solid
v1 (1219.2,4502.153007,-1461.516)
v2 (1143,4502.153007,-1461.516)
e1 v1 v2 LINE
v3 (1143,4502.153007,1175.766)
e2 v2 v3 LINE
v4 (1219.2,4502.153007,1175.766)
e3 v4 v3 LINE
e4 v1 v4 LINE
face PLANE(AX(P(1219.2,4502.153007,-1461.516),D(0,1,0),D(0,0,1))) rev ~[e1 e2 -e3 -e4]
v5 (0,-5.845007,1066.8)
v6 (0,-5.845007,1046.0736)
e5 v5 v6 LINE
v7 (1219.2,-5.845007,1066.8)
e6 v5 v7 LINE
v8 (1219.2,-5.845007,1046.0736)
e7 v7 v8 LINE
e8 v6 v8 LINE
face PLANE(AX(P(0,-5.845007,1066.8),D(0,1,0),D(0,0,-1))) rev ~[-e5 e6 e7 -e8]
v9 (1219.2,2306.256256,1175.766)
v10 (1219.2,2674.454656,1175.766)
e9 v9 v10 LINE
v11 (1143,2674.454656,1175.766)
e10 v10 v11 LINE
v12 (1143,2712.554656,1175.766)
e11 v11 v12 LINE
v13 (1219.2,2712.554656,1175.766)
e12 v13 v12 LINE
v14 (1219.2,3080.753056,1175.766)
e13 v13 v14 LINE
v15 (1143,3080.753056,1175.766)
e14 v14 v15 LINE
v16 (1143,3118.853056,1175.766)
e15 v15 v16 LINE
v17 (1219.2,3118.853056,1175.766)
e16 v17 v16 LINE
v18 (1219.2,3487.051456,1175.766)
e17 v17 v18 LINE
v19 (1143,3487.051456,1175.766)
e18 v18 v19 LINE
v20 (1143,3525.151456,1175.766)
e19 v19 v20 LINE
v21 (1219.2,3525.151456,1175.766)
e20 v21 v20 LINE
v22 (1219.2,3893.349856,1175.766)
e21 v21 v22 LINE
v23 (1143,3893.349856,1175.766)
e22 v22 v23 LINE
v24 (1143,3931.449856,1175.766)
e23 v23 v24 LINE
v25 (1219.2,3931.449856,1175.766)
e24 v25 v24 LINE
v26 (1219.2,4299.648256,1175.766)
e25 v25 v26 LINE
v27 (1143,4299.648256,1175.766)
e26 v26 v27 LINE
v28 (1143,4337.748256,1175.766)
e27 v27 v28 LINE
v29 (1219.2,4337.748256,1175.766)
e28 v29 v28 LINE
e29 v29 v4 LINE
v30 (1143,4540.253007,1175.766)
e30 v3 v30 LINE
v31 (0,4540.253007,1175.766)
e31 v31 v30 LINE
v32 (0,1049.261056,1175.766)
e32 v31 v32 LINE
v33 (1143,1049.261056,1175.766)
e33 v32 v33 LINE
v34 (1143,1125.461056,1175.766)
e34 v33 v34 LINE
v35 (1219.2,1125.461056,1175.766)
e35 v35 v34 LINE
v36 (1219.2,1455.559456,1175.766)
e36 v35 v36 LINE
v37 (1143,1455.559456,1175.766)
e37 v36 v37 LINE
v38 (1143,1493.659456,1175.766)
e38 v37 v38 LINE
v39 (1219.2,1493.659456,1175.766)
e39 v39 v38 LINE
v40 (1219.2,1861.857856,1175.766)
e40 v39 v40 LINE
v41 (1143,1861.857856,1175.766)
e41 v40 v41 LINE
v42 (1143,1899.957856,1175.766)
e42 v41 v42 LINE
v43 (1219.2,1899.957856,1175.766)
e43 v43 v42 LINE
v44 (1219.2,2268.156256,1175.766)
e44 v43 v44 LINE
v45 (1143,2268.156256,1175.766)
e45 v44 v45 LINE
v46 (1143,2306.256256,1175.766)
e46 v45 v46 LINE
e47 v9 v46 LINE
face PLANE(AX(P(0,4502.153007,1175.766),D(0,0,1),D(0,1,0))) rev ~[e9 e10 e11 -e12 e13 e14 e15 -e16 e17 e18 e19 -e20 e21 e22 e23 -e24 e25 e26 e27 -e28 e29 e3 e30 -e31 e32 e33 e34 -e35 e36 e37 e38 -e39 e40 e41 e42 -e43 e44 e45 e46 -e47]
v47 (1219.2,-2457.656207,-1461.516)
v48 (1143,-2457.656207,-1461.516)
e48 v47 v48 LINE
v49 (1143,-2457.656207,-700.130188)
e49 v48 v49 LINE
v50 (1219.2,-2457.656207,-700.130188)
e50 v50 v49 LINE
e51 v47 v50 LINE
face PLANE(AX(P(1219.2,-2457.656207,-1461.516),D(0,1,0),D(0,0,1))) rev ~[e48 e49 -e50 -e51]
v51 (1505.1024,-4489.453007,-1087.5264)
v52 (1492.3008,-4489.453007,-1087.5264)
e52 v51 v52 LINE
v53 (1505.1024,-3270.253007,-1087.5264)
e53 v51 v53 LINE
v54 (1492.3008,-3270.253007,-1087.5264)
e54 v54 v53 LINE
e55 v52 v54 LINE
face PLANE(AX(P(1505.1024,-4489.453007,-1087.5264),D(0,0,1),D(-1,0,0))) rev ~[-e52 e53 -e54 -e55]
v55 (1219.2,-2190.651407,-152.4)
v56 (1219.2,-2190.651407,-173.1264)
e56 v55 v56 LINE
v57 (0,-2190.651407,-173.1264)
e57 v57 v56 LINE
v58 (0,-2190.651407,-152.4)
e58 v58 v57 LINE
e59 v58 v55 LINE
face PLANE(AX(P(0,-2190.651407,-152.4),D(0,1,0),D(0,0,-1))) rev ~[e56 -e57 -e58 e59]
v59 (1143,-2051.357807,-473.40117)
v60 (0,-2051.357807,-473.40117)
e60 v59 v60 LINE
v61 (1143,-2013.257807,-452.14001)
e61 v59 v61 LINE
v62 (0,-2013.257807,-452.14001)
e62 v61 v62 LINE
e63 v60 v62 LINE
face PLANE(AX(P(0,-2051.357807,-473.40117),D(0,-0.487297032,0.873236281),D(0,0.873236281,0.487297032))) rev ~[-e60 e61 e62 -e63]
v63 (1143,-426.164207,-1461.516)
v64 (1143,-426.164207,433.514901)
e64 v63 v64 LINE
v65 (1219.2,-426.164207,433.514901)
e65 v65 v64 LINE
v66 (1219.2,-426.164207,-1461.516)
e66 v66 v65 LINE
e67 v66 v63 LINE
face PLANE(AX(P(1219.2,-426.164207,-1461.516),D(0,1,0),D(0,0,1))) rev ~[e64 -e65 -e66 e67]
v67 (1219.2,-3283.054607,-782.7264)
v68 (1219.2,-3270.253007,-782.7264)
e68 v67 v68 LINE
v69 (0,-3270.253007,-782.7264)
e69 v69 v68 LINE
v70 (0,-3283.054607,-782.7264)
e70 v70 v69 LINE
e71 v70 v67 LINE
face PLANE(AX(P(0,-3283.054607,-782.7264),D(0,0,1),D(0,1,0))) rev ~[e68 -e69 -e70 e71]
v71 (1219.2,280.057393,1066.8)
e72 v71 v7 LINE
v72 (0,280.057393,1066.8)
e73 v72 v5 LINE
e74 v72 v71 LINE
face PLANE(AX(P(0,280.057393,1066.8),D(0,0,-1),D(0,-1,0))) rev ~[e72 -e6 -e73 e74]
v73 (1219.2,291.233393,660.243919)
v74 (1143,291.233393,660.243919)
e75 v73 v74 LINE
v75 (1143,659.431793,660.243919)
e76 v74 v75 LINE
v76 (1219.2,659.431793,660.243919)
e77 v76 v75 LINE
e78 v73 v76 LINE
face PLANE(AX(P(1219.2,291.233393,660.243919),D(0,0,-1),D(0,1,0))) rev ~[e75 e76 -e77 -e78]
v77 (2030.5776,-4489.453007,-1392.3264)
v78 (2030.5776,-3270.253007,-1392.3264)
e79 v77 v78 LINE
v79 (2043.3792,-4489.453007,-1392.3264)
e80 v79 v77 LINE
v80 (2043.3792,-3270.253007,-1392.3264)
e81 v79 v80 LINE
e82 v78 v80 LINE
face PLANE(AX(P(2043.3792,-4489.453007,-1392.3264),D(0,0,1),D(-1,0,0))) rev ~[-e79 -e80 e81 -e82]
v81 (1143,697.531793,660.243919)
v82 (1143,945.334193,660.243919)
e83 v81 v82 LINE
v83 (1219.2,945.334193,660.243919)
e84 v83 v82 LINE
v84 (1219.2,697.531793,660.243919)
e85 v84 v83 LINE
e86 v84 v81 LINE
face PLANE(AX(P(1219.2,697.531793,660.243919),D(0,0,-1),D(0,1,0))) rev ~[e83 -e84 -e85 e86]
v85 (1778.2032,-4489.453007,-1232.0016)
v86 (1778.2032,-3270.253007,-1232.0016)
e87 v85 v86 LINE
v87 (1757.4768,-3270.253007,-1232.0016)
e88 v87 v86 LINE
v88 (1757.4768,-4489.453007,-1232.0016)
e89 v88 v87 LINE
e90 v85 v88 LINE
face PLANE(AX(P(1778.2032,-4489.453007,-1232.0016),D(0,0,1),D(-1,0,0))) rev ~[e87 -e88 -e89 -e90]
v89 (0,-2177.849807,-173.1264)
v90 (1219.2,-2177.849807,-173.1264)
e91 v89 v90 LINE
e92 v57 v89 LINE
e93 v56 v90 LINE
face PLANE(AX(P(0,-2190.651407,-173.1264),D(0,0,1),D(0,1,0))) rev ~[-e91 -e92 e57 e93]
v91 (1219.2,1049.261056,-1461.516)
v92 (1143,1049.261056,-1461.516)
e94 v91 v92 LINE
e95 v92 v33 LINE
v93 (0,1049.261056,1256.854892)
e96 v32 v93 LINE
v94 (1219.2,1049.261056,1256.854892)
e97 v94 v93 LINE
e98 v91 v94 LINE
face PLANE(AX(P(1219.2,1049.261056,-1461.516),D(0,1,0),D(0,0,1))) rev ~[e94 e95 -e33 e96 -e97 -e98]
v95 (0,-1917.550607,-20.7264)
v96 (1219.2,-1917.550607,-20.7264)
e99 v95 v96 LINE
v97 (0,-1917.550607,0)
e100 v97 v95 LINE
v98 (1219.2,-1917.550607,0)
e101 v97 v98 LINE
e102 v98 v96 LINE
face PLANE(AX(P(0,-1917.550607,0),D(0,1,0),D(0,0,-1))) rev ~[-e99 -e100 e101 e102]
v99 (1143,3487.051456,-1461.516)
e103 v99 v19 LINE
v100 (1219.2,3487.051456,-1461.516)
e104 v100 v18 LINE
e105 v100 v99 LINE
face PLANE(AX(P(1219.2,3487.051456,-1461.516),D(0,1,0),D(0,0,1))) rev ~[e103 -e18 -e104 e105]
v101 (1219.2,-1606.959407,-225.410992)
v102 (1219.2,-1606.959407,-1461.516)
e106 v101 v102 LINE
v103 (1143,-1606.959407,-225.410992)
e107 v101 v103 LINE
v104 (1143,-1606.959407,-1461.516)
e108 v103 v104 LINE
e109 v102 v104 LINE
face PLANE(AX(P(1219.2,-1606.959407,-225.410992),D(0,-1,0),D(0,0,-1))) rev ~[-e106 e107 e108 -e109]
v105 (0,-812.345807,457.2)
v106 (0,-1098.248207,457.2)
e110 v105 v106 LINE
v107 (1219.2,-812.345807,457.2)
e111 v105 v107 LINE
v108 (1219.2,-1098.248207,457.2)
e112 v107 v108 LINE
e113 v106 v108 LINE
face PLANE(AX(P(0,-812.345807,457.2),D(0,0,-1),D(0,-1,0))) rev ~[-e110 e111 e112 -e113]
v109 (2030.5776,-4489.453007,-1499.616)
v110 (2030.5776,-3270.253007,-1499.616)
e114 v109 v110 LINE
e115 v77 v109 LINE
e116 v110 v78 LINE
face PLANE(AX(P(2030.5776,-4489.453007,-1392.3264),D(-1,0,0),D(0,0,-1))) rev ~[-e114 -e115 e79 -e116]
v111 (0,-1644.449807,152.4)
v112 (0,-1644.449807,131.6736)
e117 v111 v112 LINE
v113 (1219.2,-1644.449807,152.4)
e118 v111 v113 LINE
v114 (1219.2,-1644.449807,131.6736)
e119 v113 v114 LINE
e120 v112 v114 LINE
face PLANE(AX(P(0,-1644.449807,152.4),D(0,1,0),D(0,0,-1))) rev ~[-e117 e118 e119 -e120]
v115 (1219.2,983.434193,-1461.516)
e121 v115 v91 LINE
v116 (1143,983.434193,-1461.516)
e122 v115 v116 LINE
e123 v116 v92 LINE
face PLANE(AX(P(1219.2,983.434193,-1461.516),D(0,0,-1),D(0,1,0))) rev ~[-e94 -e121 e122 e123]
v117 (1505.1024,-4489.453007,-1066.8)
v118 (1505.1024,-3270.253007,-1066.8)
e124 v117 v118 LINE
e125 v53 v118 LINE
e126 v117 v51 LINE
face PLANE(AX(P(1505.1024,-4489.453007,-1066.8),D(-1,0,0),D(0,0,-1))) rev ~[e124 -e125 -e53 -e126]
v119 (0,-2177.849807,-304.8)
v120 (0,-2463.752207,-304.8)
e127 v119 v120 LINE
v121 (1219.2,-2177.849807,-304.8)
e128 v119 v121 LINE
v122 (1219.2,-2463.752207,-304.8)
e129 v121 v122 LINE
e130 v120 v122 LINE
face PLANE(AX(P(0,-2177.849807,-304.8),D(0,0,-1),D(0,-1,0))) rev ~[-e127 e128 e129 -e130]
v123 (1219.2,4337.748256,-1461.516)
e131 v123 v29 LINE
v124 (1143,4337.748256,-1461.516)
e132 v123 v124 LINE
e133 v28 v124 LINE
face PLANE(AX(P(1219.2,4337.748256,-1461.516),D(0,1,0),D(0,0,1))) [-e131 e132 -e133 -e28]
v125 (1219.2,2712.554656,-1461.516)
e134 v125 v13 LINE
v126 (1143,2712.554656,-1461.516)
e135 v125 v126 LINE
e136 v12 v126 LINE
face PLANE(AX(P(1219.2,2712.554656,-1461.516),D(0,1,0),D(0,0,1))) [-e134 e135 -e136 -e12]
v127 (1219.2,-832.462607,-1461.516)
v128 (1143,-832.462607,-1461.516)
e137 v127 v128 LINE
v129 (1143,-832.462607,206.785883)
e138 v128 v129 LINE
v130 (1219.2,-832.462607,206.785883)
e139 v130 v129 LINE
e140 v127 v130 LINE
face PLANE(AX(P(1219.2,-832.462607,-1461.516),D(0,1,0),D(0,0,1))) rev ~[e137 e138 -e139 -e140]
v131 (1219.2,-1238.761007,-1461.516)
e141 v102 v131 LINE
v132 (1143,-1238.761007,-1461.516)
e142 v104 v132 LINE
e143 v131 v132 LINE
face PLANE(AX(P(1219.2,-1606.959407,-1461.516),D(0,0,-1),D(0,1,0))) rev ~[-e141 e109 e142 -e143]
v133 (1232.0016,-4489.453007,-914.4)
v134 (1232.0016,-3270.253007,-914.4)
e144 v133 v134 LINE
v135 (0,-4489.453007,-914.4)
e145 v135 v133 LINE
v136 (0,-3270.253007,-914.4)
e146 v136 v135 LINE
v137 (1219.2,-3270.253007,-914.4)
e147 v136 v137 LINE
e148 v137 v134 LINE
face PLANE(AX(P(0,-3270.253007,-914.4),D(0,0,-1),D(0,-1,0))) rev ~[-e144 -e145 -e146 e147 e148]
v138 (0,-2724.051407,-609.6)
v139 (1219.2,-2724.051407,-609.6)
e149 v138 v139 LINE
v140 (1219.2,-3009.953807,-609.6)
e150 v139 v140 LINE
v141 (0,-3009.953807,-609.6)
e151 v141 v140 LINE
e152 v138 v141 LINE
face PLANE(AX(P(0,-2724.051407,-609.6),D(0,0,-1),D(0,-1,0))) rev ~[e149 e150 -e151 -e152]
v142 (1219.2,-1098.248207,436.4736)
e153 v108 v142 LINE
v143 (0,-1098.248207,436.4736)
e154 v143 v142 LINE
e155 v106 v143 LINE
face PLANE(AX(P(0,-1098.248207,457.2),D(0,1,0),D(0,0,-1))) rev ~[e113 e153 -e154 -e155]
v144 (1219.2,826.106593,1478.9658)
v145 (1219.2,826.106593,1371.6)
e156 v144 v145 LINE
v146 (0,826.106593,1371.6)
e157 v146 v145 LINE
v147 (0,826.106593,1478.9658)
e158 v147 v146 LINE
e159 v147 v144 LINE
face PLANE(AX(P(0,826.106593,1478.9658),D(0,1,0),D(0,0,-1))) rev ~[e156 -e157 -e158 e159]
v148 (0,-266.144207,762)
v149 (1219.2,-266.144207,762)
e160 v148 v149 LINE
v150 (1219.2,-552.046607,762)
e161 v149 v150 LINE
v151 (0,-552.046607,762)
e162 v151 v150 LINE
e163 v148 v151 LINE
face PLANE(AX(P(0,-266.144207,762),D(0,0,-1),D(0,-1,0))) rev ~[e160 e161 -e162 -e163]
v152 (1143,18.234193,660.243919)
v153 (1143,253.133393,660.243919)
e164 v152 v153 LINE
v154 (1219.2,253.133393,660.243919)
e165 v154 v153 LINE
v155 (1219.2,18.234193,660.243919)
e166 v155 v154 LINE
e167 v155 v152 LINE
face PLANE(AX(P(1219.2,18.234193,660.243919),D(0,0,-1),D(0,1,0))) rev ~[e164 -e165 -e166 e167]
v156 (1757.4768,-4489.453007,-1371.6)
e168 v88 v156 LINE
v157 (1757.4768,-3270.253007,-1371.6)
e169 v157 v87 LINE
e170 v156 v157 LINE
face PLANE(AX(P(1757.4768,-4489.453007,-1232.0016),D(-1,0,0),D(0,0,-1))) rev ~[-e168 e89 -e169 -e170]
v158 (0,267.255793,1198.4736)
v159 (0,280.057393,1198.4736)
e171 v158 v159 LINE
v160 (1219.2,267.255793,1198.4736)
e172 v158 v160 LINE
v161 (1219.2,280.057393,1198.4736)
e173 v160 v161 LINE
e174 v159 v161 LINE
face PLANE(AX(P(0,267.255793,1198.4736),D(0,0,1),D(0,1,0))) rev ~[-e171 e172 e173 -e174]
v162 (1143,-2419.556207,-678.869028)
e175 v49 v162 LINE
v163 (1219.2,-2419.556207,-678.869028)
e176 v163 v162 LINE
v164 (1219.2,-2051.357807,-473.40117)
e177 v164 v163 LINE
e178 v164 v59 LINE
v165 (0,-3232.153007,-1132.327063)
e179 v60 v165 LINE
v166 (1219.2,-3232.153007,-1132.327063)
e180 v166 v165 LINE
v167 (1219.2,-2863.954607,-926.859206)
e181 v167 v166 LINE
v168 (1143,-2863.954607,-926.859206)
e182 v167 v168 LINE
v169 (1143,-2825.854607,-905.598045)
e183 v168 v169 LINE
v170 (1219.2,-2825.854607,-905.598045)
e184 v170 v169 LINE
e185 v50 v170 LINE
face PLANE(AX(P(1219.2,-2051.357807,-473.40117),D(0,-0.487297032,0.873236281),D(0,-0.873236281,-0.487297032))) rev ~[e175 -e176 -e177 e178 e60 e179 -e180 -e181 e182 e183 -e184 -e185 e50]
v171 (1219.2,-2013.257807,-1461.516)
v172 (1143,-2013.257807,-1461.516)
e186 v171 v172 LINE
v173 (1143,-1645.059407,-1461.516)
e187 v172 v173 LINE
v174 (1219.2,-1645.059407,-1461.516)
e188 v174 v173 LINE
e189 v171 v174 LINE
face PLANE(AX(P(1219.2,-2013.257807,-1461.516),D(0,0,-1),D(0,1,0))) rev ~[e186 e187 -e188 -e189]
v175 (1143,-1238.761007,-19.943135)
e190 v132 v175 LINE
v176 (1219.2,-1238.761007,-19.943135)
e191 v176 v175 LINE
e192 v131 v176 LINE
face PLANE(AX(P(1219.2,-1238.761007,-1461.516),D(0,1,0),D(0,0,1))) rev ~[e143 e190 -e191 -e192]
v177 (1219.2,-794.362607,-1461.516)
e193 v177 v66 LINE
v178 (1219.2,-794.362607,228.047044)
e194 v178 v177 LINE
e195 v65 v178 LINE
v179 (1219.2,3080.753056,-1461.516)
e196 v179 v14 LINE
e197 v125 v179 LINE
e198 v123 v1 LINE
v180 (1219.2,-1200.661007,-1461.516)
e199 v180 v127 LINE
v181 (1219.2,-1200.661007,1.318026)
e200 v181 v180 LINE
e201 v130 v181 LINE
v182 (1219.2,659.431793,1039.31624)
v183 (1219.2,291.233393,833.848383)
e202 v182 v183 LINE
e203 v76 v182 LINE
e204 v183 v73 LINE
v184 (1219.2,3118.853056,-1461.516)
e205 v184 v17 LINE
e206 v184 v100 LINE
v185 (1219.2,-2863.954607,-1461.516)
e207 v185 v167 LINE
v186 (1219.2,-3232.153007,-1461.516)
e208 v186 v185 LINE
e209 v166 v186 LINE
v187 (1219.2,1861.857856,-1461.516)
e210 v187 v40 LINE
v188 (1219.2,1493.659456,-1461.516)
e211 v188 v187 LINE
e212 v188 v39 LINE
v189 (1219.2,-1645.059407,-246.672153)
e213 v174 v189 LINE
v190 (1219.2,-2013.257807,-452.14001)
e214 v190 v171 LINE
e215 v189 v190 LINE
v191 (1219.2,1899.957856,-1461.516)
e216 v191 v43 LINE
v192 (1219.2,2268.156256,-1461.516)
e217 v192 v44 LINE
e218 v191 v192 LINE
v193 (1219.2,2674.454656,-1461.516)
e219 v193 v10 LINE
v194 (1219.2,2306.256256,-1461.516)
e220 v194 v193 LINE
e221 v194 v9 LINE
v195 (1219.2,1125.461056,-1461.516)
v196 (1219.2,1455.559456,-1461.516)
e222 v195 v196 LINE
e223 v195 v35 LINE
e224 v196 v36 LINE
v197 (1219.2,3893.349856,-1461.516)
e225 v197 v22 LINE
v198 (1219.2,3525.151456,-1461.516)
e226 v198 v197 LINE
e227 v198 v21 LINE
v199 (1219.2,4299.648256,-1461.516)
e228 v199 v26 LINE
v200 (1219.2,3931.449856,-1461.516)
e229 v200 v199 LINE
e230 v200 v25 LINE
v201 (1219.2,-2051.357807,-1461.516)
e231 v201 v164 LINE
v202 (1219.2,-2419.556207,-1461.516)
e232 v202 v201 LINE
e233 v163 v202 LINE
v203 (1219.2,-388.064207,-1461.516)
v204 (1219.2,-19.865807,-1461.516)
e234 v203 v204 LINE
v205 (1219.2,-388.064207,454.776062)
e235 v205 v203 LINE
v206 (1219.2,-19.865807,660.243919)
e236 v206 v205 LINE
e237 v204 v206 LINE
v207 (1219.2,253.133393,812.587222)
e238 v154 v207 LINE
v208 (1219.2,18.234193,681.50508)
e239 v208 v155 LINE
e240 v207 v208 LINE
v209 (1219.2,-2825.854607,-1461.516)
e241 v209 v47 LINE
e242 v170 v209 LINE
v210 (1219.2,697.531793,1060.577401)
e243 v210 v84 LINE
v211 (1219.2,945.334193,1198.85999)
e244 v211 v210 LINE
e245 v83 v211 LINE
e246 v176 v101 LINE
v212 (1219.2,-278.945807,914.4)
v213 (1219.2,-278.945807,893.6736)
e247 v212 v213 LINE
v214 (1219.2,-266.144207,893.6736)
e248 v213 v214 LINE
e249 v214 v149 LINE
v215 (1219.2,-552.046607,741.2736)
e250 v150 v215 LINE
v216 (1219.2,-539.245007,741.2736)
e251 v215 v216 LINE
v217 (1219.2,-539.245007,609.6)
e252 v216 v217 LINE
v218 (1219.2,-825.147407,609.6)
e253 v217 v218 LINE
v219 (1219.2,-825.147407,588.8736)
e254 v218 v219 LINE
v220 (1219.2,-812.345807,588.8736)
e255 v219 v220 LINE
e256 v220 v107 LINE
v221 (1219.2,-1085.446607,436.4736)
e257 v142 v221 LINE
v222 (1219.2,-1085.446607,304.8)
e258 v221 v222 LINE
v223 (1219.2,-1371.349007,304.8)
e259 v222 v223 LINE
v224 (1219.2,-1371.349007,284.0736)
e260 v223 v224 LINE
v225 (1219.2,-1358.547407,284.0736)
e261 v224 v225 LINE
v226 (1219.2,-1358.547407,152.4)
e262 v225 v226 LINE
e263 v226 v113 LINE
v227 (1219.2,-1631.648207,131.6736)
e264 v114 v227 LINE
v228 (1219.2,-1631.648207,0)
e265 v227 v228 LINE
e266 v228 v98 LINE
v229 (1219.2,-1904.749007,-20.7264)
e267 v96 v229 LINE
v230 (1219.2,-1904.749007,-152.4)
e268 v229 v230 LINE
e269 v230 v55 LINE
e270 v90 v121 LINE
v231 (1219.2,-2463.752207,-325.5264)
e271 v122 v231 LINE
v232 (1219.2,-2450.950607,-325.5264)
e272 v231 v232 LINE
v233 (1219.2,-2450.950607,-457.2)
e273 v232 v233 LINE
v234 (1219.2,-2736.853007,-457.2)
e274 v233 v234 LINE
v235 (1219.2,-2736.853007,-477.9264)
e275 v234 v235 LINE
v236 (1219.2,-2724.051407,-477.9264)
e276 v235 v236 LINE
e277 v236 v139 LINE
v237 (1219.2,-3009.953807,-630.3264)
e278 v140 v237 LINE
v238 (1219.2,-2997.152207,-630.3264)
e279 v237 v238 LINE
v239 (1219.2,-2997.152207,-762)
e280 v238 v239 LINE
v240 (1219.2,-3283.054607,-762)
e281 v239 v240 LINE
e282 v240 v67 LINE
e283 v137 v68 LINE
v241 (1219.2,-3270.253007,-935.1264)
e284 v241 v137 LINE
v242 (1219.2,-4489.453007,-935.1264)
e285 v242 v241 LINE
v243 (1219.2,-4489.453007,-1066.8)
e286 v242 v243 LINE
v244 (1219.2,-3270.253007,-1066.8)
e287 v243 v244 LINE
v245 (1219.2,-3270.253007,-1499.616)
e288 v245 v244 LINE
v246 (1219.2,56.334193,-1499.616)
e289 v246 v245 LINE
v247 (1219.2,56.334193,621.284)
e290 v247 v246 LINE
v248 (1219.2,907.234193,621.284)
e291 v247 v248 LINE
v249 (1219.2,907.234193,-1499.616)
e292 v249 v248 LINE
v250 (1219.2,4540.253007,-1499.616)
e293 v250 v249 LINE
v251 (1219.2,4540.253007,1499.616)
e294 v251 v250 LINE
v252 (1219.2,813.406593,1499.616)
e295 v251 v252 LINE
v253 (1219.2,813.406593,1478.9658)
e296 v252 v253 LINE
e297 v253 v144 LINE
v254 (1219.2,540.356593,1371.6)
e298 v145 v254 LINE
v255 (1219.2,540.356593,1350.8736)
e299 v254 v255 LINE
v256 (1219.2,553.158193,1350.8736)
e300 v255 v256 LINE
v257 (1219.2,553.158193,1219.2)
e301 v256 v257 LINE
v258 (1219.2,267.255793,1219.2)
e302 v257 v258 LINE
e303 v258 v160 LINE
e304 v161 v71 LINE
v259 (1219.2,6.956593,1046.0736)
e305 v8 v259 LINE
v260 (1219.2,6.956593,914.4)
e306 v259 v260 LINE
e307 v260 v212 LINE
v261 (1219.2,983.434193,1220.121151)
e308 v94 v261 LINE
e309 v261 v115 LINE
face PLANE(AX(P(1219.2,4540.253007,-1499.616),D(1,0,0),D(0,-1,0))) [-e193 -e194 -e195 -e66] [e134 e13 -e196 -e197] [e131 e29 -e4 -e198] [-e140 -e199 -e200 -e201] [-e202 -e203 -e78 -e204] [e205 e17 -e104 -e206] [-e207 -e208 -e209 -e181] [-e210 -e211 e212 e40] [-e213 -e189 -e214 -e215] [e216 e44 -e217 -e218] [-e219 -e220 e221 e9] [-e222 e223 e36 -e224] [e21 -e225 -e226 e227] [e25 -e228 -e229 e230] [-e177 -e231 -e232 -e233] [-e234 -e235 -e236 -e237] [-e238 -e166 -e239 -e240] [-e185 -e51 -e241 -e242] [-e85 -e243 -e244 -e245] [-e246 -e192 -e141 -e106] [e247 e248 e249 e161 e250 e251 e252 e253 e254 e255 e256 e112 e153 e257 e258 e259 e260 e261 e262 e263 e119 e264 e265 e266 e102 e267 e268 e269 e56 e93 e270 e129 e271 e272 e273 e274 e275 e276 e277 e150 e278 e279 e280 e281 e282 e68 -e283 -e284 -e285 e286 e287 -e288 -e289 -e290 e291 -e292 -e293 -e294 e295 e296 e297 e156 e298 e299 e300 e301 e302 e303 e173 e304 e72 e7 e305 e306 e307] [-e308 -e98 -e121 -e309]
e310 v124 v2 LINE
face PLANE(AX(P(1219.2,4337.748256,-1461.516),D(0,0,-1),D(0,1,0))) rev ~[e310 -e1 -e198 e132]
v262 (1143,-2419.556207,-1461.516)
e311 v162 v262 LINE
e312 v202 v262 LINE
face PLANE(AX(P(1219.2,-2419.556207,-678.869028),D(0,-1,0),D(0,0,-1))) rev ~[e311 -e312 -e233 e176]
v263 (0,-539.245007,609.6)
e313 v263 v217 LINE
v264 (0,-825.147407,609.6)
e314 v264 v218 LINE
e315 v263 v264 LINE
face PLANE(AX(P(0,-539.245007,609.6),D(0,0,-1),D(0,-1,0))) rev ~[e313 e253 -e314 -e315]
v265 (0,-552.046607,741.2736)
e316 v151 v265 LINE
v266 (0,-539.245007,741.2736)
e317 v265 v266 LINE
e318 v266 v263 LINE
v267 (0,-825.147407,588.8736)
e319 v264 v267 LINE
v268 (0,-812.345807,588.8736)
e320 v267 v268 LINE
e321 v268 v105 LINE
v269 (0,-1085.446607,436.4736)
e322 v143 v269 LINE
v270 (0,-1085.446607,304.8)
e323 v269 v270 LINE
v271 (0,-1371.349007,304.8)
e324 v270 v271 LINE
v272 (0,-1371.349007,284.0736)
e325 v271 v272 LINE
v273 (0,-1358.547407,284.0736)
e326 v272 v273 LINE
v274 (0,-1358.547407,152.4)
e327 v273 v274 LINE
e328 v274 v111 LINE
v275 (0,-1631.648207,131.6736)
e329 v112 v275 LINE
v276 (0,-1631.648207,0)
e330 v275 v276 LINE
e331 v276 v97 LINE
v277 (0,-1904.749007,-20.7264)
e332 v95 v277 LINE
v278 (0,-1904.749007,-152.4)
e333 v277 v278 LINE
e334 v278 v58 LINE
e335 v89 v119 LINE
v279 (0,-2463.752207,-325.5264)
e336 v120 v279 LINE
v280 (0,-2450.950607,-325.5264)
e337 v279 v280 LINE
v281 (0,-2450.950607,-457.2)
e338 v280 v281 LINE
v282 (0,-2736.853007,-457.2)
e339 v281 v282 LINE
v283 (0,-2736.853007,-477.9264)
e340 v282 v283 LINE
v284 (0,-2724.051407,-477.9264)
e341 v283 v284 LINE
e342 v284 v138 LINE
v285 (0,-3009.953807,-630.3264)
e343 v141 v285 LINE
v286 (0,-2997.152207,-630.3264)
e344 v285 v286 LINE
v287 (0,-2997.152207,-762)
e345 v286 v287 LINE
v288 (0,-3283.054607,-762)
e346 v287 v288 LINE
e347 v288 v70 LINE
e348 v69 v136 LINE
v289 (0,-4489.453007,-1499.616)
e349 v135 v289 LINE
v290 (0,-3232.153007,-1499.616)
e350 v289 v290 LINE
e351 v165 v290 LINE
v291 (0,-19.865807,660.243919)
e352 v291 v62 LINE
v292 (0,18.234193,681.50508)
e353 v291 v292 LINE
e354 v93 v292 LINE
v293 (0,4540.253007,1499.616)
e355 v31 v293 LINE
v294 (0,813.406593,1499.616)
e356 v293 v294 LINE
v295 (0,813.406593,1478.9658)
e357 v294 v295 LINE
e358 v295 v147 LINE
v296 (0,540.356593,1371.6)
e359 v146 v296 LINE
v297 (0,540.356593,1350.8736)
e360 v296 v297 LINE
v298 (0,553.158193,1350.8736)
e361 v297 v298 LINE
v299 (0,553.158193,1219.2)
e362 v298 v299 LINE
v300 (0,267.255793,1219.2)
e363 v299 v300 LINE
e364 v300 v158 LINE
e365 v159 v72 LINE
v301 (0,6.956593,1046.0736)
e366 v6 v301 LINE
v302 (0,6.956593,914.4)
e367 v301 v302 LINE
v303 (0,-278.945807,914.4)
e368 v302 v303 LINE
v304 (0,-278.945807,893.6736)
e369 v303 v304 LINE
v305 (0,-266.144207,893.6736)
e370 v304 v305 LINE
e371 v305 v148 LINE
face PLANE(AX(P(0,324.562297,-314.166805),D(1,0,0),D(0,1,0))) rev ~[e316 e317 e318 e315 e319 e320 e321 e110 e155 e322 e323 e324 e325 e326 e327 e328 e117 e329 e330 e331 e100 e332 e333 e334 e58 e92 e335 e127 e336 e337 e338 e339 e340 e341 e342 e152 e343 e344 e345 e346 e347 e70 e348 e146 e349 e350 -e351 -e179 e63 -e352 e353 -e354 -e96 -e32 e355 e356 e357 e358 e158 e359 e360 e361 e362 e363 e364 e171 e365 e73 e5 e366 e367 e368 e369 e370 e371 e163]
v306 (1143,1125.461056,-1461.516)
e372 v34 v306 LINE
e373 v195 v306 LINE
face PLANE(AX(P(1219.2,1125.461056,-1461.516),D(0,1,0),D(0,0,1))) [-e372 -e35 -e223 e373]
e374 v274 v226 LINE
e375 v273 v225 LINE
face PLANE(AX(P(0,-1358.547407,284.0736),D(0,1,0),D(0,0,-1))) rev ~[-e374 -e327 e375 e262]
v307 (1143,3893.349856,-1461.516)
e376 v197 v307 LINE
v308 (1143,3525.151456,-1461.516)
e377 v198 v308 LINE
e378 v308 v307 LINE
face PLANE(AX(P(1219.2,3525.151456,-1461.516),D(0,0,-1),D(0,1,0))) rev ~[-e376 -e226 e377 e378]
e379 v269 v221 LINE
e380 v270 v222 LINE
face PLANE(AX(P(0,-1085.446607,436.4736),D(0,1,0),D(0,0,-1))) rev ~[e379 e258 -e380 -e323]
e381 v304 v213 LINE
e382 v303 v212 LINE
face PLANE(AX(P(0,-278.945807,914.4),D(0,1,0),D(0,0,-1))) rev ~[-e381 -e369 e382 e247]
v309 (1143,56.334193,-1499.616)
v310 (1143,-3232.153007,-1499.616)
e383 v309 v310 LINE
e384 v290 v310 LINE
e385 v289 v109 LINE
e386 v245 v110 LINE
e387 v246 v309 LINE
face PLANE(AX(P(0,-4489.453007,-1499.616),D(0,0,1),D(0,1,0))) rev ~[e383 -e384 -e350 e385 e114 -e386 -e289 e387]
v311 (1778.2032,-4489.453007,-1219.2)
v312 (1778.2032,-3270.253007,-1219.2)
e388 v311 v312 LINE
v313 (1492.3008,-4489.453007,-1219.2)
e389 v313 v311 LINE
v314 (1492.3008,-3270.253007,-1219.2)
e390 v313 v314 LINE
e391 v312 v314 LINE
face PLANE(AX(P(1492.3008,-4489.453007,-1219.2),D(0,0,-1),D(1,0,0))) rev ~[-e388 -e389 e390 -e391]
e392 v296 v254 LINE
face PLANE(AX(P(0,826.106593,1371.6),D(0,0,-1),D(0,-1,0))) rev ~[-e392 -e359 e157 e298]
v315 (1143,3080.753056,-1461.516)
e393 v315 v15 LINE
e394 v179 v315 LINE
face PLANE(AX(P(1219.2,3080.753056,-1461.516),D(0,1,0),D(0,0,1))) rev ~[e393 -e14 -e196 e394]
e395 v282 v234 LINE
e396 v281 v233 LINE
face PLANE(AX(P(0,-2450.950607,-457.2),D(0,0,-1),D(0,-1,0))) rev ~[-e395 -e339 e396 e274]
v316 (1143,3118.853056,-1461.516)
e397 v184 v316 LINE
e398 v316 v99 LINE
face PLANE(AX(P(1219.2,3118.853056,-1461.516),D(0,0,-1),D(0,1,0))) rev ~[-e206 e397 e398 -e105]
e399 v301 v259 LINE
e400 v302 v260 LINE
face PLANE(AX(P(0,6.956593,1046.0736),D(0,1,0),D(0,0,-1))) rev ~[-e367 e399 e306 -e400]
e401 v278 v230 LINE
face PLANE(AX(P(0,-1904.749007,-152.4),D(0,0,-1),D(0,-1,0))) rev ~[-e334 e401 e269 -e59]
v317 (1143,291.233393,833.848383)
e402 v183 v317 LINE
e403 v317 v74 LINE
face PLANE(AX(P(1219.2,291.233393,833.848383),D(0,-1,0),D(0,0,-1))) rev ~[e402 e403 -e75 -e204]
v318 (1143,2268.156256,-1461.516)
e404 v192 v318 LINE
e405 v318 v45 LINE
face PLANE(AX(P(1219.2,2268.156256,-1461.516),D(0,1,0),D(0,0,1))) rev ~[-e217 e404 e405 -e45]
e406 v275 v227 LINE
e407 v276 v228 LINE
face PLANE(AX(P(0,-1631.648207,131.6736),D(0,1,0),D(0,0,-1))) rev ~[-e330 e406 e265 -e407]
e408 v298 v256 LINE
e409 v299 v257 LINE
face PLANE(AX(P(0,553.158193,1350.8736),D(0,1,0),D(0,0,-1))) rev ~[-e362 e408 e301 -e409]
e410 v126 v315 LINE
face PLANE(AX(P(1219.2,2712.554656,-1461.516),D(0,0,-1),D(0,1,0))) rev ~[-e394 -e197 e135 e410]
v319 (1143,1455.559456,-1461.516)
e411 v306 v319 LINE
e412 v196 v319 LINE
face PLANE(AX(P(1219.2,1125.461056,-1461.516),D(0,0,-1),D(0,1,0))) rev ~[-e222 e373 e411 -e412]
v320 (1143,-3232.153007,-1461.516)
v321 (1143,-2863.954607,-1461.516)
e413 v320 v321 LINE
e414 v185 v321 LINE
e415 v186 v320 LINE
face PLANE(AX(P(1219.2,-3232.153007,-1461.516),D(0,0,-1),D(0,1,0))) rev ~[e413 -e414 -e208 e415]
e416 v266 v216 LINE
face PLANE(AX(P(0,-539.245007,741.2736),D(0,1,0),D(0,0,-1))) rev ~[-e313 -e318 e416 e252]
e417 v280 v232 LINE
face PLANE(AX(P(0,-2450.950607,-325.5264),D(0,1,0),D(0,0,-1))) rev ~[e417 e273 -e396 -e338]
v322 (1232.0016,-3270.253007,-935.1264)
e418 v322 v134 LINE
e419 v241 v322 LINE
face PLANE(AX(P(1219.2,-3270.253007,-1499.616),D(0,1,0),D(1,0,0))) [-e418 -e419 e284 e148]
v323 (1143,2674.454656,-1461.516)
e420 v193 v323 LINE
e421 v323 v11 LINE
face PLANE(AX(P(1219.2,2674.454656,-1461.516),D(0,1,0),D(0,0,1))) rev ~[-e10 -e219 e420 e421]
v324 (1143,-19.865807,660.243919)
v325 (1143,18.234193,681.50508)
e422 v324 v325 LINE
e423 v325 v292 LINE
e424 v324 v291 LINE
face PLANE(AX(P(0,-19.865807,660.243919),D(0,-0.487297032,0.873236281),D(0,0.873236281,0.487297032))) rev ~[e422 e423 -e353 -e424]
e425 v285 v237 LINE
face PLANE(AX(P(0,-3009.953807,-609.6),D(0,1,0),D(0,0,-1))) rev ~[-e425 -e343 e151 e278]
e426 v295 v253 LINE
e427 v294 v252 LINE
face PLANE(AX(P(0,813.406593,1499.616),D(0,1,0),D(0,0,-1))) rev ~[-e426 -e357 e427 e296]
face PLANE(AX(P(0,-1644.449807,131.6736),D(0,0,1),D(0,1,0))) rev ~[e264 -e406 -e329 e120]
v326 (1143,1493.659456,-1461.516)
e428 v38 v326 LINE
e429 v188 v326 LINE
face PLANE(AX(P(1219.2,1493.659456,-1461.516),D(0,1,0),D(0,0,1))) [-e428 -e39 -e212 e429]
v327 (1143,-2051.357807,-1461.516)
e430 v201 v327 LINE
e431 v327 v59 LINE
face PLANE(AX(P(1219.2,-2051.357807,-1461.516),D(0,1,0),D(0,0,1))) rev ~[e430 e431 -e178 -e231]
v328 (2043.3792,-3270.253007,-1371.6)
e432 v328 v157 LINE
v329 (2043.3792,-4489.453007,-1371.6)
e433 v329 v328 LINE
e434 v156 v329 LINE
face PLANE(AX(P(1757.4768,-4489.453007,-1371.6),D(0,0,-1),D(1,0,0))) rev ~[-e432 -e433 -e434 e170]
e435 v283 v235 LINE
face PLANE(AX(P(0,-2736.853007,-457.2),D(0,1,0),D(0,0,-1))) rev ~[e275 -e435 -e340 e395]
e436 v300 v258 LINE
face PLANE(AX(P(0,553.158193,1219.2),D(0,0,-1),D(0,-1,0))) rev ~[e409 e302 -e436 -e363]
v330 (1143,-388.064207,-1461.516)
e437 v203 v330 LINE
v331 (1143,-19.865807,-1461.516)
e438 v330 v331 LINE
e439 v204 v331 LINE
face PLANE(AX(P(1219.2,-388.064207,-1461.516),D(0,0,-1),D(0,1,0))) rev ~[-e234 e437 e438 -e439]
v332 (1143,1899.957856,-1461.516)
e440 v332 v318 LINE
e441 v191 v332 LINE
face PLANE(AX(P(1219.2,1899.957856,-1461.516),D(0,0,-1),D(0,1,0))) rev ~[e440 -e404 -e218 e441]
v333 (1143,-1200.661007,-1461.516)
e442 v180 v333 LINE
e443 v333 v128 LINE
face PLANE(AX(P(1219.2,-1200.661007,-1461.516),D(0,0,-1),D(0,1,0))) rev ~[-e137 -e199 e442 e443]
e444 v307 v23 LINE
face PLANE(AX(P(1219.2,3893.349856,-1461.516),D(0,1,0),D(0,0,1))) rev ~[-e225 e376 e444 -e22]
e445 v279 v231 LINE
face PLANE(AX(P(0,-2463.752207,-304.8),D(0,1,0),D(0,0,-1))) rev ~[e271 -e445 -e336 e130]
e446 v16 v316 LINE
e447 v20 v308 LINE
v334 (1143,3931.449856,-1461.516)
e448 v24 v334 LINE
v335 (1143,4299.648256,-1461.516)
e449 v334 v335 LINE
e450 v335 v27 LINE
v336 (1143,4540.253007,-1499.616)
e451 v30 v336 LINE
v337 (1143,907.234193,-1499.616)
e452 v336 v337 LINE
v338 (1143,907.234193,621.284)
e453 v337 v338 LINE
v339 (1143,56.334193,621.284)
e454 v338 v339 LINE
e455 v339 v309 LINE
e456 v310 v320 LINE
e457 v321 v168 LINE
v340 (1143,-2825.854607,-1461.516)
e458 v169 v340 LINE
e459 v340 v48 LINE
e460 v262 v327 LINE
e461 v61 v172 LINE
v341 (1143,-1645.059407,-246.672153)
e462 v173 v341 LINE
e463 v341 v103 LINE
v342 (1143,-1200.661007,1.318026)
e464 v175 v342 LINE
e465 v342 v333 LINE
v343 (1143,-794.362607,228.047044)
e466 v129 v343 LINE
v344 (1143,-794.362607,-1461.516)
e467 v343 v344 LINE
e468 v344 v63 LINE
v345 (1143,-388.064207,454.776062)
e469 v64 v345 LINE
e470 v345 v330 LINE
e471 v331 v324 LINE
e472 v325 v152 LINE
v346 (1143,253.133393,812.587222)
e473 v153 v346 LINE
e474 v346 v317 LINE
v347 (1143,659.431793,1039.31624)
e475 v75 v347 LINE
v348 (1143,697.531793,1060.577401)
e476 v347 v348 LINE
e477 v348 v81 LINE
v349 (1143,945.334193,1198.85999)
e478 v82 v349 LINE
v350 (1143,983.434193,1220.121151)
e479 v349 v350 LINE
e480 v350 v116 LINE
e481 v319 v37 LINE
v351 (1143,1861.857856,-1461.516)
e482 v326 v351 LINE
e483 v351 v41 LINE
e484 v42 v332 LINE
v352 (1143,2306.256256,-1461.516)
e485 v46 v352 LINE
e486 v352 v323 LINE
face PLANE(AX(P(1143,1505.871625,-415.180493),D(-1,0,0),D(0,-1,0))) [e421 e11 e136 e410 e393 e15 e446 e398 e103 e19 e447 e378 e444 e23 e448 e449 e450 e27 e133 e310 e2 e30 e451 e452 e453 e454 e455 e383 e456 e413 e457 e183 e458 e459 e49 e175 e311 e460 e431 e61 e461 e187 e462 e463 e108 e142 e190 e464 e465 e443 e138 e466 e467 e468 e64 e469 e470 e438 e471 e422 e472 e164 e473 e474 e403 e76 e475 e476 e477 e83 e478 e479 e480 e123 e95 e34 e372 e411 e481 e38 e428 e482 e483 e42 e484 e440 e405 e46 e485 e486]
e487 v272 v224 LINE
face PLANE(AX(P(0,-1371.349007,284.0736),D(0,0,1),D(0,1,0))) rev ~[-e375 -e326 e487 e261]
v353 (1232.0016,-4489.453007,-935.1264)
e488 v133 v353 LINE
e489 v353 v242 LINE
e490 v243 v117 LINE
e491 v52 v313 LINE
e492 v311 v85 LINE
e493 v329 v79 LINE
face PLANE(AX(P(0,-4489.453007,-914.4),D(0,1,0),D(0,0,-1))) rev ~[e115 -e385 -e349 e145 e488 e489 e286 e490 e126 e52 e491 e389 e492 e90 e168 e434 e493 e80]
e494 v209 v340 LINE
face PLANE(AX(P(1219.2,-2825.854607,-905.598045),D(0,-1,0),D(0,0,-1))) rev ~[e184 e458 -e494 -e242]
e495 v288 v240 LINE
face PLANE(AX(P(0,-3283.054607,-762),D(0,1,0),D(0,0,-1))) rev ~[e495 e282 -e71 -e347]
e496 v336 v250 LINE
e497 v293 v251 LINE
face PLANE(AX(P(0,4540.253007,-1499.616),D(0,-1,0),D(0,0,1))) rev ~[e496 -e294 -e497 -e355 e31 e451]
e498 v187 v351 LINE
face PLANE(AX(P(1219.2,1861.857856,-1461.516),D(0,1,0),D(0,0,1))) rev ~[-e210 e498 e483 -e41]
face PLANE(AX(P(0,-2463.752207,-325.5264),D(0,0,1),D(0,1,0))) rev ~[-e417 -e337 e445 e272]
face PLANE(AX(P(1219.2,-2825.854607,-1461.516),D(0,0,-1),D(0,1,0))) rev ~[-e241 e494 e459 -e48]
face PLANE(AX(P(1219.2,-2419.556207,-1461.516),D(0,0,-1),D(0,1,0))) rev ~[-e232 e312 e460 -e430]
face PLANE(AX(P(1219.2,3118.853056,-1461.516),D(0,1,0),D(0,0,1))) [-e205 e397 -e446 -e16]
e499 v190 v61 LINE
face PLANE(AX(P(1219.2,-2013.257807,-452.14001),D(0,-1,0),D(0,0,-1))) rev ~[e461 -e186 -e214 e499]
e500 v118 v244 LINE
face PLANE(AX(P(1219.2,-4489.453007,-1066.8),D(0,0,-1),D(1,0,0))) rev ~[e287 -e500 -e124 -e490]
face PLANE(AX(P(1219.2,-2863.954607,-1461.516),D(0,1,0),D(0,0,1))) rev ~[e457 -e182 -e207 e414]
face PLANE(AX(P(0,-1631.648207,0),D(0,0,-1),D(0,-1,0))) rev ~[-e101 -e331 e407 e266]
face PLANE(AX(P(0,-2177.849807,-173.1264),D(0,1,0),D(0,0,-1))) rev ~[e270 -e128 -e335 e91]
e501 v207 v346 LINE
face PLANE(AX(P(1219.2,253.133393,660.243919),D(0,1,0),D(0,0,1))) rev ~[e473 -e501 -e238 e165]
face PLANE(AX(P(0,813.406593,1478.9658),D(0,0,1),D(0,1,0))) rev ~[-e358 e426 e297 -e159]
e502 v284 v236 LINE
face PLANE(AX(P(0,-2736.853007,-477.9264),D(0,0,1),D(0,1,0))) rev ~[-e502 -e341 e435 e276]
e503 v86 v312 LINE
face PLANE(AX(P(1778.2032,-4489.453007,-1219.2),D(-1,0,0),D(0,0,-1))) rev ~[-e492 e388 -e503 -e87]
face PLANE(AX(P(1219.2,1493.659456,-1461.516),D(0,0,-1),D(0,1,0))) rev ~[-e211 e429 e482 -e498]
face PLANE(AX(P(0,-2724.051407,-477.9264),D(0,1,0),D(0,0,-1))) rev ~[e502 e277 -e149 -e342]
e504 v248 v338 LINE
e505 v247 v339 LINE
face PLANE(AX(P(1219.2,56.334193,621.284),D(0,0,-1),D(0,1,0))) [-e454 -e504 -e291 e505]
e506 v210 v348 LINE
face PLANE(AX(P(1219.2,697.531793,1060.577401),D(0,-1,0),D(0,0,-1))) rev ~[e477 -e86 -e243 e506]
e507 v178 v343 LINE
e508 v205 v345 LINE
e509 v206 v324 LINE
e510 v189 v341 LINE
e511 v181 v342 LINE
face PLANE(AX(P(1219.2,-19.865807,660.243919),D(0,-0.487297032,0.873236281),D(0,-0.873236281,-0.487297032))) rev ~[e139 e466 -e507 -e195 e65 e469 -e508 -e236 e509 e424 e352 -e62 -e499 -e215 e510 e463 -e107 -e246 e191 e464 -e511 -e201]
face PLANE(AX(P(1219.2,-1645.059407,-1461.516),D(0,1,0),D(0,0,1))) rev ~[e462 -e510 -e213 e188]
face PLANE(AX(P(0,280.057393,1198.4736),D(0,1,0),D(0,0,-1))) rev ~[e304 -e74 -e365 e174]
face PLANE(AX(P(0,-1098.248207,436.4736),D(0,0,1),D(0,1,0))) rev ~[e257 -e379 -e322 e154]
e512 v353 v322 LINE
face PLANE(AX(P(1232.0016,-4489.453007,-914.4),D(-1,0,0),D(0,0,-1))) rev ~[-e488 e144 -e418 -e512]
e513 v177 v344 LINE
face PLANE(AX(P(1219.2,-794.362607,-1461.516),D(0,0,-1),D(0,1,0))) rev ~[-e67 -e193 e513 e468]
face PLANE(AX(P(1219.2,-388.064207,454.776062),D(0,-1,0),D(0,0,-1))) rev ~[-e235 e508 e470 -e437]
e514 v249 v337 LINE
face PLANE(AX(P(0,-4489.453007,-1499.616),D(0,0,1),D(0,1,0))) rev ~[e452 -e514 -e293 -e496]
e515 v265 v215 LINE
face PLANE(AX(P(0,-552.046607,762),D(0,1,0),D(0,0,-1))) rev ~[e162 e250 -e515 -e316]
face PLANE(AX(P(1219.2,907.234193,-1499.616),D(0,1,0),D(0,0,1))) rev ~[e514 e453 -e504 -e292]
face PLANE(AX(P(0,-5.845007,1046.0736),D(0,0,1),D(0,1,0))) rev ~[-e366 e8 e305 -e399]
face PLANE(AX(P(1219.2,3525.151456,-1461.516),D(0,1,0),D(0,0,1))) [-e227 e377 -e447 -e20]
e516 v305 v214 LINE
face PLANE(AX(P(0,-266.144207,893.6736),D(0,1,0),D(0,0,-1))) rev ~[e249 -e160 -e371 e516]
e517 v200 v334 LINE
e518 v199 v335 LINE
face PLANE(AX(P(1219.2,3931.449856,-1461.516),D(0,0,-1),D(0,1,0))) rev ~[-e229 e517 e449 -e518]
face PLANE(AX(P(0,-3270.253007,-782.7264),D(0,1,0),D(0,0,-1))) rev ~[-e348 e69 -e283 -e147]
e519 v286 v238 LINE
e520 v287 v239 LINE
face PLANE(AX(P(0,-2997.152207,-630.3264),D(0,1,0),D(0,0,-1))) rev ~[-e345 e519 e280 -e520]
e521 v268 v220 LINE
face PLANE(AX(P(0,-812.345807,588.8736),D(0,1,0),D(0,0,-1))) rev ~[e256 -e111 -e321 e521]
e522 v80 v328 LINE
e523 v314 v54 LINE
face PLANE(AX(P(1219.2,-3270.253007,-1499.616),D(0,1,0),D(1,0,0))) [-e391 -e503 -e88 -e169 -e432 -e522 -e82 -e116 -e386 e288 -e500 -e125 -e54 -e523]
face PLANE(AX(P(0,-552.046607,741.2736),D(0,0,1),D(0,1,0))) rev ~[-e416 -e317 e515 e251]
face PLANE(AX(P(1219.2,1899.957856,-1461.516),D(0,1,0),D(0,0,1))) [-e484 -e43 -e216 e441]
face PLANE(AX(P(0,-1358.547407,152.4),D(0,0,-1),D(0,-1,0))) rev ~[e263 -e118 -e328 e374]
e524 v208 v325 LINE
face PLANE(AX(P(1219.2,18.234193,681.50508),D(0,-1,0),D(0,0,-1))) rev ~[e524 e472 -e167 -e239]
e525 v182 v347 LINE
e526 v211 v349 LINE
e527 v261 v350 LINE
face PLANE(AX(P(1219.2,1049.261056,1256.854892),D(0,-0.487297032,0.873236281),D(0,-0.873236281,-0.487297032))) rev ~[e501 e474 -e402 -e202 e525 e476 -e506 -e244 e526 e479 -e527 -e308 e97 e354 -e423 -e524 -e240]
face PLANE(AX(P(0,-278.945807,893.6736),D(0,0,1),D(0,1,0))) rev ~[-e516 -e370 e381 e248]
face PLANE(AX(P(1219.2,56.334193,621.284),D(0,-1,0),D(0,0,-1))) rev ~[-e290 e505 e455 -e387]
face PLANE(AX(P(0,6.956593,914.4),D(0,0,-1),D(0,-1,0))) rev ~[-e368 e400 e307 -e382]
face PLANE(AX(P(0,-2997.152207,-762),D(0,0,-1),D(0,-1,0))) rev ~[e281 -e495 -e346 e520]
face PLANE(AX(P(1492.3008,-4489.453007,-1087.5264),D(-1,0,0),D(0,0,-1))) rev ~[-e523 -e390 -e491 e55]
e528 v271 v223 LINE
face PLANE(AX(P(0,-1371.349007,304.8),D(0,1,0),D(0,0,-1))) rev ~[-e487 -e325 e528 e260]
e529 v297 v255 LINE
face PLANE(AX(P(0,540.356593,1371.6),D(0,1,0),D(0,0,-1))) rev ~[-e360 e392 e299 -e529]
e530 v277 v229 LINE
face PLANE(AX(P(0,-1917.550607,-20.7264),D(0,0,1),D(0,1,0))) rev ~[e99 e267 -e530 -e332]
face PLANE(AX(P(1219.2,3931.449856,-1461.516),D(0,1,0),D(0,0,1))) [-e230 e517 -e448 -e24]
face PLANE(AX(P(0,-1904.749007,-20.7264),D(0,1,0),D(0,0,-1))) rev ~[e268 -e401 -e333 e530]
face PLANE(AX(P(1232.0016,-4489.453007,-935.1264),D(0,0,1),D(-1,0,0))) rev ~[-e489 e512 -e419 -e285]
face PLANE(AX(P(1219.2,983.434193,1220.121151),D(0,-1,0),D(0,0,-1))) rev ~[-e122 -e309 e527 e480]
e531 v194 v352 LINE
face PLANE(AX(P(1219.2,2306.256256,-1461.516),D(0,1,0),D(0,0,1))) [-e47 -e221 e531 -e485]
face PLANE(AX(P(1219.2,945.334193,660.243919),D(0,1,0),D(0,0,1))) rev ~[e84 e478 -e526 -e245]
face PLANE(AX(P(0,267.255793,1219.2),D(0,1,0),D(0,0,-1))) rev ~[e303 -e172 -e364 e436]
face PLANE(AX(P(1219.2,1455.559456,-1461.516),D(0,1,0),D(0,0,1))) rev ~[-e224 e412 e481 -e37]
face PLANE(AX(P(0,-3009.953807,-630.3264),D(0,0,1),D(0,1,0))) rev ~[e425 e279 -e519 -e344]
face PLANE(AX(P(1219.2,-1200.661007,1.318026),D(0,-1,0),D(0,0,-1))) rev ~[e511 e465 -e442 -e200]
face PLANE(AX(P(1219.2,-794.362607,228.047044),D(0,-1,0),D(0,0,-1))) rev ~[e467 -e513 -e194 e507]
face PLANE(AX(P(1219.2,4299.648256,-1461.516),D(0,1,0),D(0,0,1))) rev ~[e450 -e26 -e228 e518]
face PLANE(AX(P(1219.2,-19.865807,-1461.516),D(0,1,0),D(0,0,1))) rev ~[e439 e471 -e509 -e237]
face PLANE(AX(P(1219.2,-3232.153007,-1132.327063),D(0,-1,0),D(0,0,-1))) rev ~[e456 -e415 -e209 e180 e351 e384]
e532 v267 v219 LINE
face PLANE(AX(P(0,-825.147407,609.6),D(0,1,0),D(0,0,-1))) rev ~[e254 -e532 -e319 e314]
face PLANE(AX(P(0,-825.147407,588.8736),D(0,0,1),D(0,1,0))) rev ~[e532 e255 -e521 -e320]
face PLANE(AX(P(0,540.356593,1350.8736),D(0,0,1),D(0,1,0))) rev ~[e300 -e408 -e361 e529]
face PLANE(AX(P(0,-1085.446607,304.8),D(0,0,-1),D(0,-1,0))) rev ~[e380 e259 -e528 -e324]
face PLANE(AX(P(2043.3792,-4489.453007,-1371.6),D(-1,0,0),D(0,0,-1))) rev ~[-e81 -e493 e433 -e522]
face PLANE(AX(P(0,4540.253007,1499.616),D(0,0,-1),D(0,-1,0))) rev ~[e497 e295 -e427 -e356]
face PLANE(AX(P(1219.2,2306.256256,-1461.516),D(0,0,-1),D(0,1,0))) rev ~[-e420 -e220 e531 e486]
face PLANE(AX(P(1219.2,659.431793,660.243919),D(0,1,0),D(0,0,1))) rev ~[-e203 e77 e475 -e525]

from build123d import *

# Parameters (mm, degrees)
F1_DEPTH  = 2438.4
F2_W      = 1219.2
F2_H      = 7810.50601472
F3_DEPTH  = 6096
F4_DEPTH  = 1219.2
F6_DEPTH  = 12192
F7_W      = 850.9
F7_H      = 2082.8
F7_W_2    = 330.0984
F7_H_2    = 2637.282
F7_W_3    = 368.1984
F7_W_4    = 164.4047516028
F7_H_3    = 38.1
F8_DEPTH  = 1524
F10_DEPTH = 1143


with BuildPart() as f1:
    # F0 (on Right) → F1 (new body)
    with BuildSketch(Plane.YZ):
        Polygon((4540.25300736, -1499.616), (4540.25300736, 1499.616), (813.40659264, 1499.616), (813.40659264, 1478.9658), (826.10659264, 1478.9658), (826.10659264, 1371.6), (540.35659264, 1371.6), (540.35659264, 1350.8736), (553.15819264, 1350.8736), (553.15819264, 1219.2), (267.25579264, 1219.2), (267.25579264, 1198.4736), (280.05739264, 1198.4736), (280.05739264, 1066.8), (-5.84500736, 1066.8), (-5.84500736, 1046.0736), (6.95659264, 1046.0736), (6.95659264, 914.4), (-278.94580736, 914.4), (-278.94580736, 893.6736), (-266.14420736, 893.6736), (-266.14420736, 762), (-552.04660736, 762), (-552.04660736, 741.2736), (-539.24500736, 741.2736), (-539.24500736, 609.6), (-825.14740736, 609.6), (-825.14740736, 588.8736), (-812.34580736, 588.8736), (-812.34580736, 457.2), (-1098.24820736, 457.2), (-1098.24820736, 436.4736), (-1085.44660736, 436.4736), (-1085.44660736, 304.8), (-1371.34900736, 304.8), (-1371.34900736, 284.0736), (-1358.54740736, 284.0736), (-1358.54740736, 152.4), (-1644.44980736, 152.4), (-1644.44980736, 131.6736), (-1631.64820736, 131.6736), (-1631.64820736, 0), (-1917.55060736, 0), (-1917.55060736, -20.7264), (-1904.74900736, -20.7264), (-1904.74900736, -152.4), (-2190.65140736, -152.4), (-2190.65140736, -173.1264), (-2177.84980736, -173.1264), (-2177.84980736, -304.8), (-2463.75220736, -304.8), (-2463.75220736, -325.5264), (-2450.95060736, -325.5264), (-2450.95060736, -457.2), (-2736.85300736, -457.2), (-2736.85300736, -477.9264), (-2724.05140736, -477.9264), (-2724.05140736, -609.6), (-3009.95380736, -609.6), (-3009.95380736, -630.3264), (-2997.15220736, -630.3264), (-2997.15220736, -762), (-3283.05460736, -762), (-3283.05460736, -782.7264), (-3270.25300736, -782.7264), (-3270.25300736, -914.4), (-4489.45300736, -914.4), (-4489.45300736, -1499.616), align=None)
    extrude(amount=F1_DEPTH)

    # F2 (on face) → F3 (cut)
    with BuildSketch(Plane(origin=(0, 0, -1499.616), x_dir=(1, 0, 0), z_dir=(0, 0, -1))):
        with Locations((1828.8, -635)):
            Rectangle(F2_W, F2_H)
    extrude(amount=-F3_DEPTH, mode=Mode.SUBTRACT)

    # F4 (cut): a face of the model
    f4_faces = [f1.faces().sort_by_distance(p)[0] for p in [
        (2438.4, -3276.65380736, -772.3632),
    ]]
    extrude(f4_faces, amount=-F4_DEPTH, mode=Mode.SUBTRACT)

    # F5 (on face) → F6 (cut)
    with BuildSketch(Plane.XZ.offset(4489.45300736)):
        Polygon((2438.4, -914.4), (1232.0016, -914.4), (1232.0016, -935.1264), (1219.2, -935.1264), (1219.2, -1066.8), (1505.1024, -1066.8), (1505.1024, -1087.5264), (1492.3008, -1087.5264), (1492.3008, -1219.2), (1778.2032, -1219.2), (1778.2032, -1232.0016), (1757.4768, -1232.0016), (1757.4768, -1371.6), (2043.3792, -1371.6), (2043.3792, -1392.3264), (2030.5776, -1392.3264), (2030.5776, -1499.616), (2438.4, -1499.616), align=None)
    extrude(amount=-F6_DEPTH, mode=Mode.SUBTRACT)

    # F7 (on face) → F8 (cut)
    with BuildSketch(Plane.YZ.offset(1219.2)):
        Polygon((-3232.15300736, -1461.516), (-2863.95460736, -1461.516), (-2863.95460736, -926.8592061324), (-3232.15300736, -1132.3270632753), align=None)
        Polygon((-2825.85460736, -1461.516), (-2457.65620736, -1461.516), (-2457.65620736, -700.1301882753), (-2825.85460736, -905.5980454181), align=None)
        Polygon((-2419.55620736, -1461.516), (-2051.35780736, -1461.516), (-2051.35780736, -473.4011704181), (-2419.55620736, -678.869027561), align=None)
        Polygon((-2013.25780736, -1461.516), (-1645.05940736, -1461.516), (-1645.05940736, -246.672152561), (-2013.25780736, -452.1400097039), align=None)
        Polygon((-1606.95940736, -1461.516), (-1238.76100736, -1461.516), (-1238.76100736, -19.9431347039), (-1606.95940736, -225.4109918467), align=None)
        Polygon((-1200.66100736, -1461.516), (-832.46260736, -1461.516), (-832.46260736, 206.7858831533), (-1200.66100736, 1.3180260104), align=None)
        Polygon((-794.36260736, -1461.516), (-426.16420736, -1461.516), (-426.16420736, 433.5149010104), (-794.36260736, 228.0470438676), align=None)
        Polygon((-388.06420736, -1461.516), (-19.86580736, -1461.516), (-19.86580736, 660.2439188676), (-388.06420736, 454.7760617247), align=None)
        with Locations((481.78419264, -420.116)):
            Rectangle(F7_W, F7_H)
        Polygon((18.23419264, 681.5050795818), (18.23419264, 660.2439188676), (253.13339264, 660.2439188676), (253.13339264, 812.587222439), align=None)
        Polygon((659.43179264, 660.2439188676), (659.43179264, 1039.3162402961), (291.23339264, 833.8483831533), (291.23339264, 660.2439188676), align=None)
        Polygon((945.33419264, 660.2439188676), (945.33419264, 1198.8599902961), (697.53179264, 1060.5774010104), (697.53179264, 660.2439188676), align=None)
        Polygon((1049.2610557572, -1461.516), (1049.2610557572, 1256.8548915892), (983.43419264, 1220.1211510104), (983.43419264, -1461.516), align=None)
        with Locations((1290.5102557572, -142.875)):
            Rectangle(F7_W_2, F7_H_2)
        with Locations((1677.7586557572, -142.875)):
            Rectangle(F7_W_3, F7_H_2)
        with Locations((2084.0570557572, -142.875)):
            Rectangle(F7_W_3, F7_H_2)
        with Locations((2490.3554557572, -142.875)):
            Rectangle(F7_W_3, F7_H_2)
        with Locations((2896.6538557572, -142.875)):
            Rectangle(F7_W_3, F7_H_2)
        with Locations((3302.9522557572, -142.875)):
            Rectangle(F7_W_3, F7_H_2)
        with Locations((3709.2506557572, -142.875)):
            Rectangle(F7_W_3, F7_H_2)
        with Locations((4115.5490557572, -142.875)):
            Rectangle(F7_W_3, F7_H_2)
        with Locations((4419.9506315586, -142.875)):
            Rectangle(F7_W_4, F7_H_2)
        with Locations((481.78419264, -1480.566)):
            Rectangle(F7_W, F7_H_3)
    extrude(amount=-F8_DEPTH, mode=Mode.SUBTRACT)

    # F9 (on face) → F10 (cut)
    with BuildSketch(Plane(origin=(0, 0, 0), x_dir=(0, -1, 0), z_dir=(-1, 0, 0))):
        Polygon((-4502.15300736, 1175.766), (-4540.25300736, 1175.766), (-4540.25300736, -1499.616), (-907.23419264, -1499.616), (-907.23419264, 621.284), (-56.33419264, 621.284), (-56.33419264, -1499.616), (3232.15300736, -1499.616), (3232.15300736, -1461.516), (2863.95460736, -1461.516), (2863.95460736, -926.8592061324), (2825.85460736, -905.5980454181), (2825.85460736, -1461.516), (2457.65620736, -1461.516), (2457.65620736, -700.1301882753), (2419.55620736, -678.869027561), (2419.55620736, -1461.516), (2051.35780736, -1461.516), (2051.35780736, -473.4011704181), (2013.25780736, -452.1400097039), (2013.25780736, -1461.516), (1645.05940736, -1461.516), (1645.05940736, -246.672152561), (1606.95940736, -225.4109918467), (1606.95940736, -1461.516), (1238.76100736, -1461.516), (1238.76100736, -19.9431347039), (1200.66100736, 1.3180260104), (1200.66100736, -1461.516), (832.46260736, -1461.516), (832.46260736, 206.7858831533), (794.36260736, 228.0470438676), (794.36260736, -1461.516), (426.16420736, -1461.516), (426.16420736, 433.5149010104), (388.06420736, 454.7760617247), (388.06420736, -1461.516), (19.86580736, -1461.516), (19.86580736, 660.2439188676), (-18.23419264, 681.5050795818), (-18.23419264, 660.2439188676), (-253.13339264, 660.2439188676), (-253.13339264, 812.587222439), (-291.23339264, 833.8483831533), (-291.23339264, 660.2439188676), (-659.43179264, 660.2439188676), (-659.43179264, 1039.3162402961), (-697.53179264, 1060.5774010104), (-697.53179264, 660.2439188676), (-945.33419264, 660.2439188676), (-945.33419264, 1198.8599902961), (-983.43419264, 1220.1211510104), (-983.43419264, -1461.516), (-1049.2610557572, -1461.516), (-1049.2610557572, 1175.766), (-1125.4610557572, 1175.766), (-1125.4610557572, -1461.516), (-1455.5594557572, -1461.516), (-1455.5594557572, 1175.766), (-1493.6594557572, 1175.766), (-1493.6594557572, -1461.516), (-1861.8578557572, -1461.516), (-1861.8578557572, 1175.766), (-1899.9578557572, 1175.766), (-1899.9578557572, -1461.516), (-2268.1562557572, -1461.516), (-2268.1562557572, 1175.766), (-2306.2562557572, 1175.766), (-2306.2562557572, -1461.516), (-2674.4546557572, -1461.516), (-2674.4546557572, 1175.766), (-2712.5546557572, 1175.766), (-2712.5546557572, -1461.516), (-3080.7530557572, -1461.516), (-3080.7530557572, 1175.766), (-3118.8530557572, 1175.766), (-3118.8530557572, -1461.516), (-3487.0514557572, -1461.516), (-3487.0514557572, 1175.766), (-3525.1514557572, 1175.766), (-3525.1514557572, -1461.516), (-3893.3498557572, -1461.516), (-3893.3498557572, 1175.766), (-3931.4498557572, 1175.766), (-3931.4498557572, -1461.516), (-4299.6482557572, -1461.516), (-4299.6482557572, 1175.766), (-4337.7482557572, 1175.766), (-4337.7482557572, -1461.516), (-4502.15300736, -1461.516), align=None)
    extrude(amount=-F10_DEPTH, mode=Mode.SUBTRACT)


solid = f1.part
